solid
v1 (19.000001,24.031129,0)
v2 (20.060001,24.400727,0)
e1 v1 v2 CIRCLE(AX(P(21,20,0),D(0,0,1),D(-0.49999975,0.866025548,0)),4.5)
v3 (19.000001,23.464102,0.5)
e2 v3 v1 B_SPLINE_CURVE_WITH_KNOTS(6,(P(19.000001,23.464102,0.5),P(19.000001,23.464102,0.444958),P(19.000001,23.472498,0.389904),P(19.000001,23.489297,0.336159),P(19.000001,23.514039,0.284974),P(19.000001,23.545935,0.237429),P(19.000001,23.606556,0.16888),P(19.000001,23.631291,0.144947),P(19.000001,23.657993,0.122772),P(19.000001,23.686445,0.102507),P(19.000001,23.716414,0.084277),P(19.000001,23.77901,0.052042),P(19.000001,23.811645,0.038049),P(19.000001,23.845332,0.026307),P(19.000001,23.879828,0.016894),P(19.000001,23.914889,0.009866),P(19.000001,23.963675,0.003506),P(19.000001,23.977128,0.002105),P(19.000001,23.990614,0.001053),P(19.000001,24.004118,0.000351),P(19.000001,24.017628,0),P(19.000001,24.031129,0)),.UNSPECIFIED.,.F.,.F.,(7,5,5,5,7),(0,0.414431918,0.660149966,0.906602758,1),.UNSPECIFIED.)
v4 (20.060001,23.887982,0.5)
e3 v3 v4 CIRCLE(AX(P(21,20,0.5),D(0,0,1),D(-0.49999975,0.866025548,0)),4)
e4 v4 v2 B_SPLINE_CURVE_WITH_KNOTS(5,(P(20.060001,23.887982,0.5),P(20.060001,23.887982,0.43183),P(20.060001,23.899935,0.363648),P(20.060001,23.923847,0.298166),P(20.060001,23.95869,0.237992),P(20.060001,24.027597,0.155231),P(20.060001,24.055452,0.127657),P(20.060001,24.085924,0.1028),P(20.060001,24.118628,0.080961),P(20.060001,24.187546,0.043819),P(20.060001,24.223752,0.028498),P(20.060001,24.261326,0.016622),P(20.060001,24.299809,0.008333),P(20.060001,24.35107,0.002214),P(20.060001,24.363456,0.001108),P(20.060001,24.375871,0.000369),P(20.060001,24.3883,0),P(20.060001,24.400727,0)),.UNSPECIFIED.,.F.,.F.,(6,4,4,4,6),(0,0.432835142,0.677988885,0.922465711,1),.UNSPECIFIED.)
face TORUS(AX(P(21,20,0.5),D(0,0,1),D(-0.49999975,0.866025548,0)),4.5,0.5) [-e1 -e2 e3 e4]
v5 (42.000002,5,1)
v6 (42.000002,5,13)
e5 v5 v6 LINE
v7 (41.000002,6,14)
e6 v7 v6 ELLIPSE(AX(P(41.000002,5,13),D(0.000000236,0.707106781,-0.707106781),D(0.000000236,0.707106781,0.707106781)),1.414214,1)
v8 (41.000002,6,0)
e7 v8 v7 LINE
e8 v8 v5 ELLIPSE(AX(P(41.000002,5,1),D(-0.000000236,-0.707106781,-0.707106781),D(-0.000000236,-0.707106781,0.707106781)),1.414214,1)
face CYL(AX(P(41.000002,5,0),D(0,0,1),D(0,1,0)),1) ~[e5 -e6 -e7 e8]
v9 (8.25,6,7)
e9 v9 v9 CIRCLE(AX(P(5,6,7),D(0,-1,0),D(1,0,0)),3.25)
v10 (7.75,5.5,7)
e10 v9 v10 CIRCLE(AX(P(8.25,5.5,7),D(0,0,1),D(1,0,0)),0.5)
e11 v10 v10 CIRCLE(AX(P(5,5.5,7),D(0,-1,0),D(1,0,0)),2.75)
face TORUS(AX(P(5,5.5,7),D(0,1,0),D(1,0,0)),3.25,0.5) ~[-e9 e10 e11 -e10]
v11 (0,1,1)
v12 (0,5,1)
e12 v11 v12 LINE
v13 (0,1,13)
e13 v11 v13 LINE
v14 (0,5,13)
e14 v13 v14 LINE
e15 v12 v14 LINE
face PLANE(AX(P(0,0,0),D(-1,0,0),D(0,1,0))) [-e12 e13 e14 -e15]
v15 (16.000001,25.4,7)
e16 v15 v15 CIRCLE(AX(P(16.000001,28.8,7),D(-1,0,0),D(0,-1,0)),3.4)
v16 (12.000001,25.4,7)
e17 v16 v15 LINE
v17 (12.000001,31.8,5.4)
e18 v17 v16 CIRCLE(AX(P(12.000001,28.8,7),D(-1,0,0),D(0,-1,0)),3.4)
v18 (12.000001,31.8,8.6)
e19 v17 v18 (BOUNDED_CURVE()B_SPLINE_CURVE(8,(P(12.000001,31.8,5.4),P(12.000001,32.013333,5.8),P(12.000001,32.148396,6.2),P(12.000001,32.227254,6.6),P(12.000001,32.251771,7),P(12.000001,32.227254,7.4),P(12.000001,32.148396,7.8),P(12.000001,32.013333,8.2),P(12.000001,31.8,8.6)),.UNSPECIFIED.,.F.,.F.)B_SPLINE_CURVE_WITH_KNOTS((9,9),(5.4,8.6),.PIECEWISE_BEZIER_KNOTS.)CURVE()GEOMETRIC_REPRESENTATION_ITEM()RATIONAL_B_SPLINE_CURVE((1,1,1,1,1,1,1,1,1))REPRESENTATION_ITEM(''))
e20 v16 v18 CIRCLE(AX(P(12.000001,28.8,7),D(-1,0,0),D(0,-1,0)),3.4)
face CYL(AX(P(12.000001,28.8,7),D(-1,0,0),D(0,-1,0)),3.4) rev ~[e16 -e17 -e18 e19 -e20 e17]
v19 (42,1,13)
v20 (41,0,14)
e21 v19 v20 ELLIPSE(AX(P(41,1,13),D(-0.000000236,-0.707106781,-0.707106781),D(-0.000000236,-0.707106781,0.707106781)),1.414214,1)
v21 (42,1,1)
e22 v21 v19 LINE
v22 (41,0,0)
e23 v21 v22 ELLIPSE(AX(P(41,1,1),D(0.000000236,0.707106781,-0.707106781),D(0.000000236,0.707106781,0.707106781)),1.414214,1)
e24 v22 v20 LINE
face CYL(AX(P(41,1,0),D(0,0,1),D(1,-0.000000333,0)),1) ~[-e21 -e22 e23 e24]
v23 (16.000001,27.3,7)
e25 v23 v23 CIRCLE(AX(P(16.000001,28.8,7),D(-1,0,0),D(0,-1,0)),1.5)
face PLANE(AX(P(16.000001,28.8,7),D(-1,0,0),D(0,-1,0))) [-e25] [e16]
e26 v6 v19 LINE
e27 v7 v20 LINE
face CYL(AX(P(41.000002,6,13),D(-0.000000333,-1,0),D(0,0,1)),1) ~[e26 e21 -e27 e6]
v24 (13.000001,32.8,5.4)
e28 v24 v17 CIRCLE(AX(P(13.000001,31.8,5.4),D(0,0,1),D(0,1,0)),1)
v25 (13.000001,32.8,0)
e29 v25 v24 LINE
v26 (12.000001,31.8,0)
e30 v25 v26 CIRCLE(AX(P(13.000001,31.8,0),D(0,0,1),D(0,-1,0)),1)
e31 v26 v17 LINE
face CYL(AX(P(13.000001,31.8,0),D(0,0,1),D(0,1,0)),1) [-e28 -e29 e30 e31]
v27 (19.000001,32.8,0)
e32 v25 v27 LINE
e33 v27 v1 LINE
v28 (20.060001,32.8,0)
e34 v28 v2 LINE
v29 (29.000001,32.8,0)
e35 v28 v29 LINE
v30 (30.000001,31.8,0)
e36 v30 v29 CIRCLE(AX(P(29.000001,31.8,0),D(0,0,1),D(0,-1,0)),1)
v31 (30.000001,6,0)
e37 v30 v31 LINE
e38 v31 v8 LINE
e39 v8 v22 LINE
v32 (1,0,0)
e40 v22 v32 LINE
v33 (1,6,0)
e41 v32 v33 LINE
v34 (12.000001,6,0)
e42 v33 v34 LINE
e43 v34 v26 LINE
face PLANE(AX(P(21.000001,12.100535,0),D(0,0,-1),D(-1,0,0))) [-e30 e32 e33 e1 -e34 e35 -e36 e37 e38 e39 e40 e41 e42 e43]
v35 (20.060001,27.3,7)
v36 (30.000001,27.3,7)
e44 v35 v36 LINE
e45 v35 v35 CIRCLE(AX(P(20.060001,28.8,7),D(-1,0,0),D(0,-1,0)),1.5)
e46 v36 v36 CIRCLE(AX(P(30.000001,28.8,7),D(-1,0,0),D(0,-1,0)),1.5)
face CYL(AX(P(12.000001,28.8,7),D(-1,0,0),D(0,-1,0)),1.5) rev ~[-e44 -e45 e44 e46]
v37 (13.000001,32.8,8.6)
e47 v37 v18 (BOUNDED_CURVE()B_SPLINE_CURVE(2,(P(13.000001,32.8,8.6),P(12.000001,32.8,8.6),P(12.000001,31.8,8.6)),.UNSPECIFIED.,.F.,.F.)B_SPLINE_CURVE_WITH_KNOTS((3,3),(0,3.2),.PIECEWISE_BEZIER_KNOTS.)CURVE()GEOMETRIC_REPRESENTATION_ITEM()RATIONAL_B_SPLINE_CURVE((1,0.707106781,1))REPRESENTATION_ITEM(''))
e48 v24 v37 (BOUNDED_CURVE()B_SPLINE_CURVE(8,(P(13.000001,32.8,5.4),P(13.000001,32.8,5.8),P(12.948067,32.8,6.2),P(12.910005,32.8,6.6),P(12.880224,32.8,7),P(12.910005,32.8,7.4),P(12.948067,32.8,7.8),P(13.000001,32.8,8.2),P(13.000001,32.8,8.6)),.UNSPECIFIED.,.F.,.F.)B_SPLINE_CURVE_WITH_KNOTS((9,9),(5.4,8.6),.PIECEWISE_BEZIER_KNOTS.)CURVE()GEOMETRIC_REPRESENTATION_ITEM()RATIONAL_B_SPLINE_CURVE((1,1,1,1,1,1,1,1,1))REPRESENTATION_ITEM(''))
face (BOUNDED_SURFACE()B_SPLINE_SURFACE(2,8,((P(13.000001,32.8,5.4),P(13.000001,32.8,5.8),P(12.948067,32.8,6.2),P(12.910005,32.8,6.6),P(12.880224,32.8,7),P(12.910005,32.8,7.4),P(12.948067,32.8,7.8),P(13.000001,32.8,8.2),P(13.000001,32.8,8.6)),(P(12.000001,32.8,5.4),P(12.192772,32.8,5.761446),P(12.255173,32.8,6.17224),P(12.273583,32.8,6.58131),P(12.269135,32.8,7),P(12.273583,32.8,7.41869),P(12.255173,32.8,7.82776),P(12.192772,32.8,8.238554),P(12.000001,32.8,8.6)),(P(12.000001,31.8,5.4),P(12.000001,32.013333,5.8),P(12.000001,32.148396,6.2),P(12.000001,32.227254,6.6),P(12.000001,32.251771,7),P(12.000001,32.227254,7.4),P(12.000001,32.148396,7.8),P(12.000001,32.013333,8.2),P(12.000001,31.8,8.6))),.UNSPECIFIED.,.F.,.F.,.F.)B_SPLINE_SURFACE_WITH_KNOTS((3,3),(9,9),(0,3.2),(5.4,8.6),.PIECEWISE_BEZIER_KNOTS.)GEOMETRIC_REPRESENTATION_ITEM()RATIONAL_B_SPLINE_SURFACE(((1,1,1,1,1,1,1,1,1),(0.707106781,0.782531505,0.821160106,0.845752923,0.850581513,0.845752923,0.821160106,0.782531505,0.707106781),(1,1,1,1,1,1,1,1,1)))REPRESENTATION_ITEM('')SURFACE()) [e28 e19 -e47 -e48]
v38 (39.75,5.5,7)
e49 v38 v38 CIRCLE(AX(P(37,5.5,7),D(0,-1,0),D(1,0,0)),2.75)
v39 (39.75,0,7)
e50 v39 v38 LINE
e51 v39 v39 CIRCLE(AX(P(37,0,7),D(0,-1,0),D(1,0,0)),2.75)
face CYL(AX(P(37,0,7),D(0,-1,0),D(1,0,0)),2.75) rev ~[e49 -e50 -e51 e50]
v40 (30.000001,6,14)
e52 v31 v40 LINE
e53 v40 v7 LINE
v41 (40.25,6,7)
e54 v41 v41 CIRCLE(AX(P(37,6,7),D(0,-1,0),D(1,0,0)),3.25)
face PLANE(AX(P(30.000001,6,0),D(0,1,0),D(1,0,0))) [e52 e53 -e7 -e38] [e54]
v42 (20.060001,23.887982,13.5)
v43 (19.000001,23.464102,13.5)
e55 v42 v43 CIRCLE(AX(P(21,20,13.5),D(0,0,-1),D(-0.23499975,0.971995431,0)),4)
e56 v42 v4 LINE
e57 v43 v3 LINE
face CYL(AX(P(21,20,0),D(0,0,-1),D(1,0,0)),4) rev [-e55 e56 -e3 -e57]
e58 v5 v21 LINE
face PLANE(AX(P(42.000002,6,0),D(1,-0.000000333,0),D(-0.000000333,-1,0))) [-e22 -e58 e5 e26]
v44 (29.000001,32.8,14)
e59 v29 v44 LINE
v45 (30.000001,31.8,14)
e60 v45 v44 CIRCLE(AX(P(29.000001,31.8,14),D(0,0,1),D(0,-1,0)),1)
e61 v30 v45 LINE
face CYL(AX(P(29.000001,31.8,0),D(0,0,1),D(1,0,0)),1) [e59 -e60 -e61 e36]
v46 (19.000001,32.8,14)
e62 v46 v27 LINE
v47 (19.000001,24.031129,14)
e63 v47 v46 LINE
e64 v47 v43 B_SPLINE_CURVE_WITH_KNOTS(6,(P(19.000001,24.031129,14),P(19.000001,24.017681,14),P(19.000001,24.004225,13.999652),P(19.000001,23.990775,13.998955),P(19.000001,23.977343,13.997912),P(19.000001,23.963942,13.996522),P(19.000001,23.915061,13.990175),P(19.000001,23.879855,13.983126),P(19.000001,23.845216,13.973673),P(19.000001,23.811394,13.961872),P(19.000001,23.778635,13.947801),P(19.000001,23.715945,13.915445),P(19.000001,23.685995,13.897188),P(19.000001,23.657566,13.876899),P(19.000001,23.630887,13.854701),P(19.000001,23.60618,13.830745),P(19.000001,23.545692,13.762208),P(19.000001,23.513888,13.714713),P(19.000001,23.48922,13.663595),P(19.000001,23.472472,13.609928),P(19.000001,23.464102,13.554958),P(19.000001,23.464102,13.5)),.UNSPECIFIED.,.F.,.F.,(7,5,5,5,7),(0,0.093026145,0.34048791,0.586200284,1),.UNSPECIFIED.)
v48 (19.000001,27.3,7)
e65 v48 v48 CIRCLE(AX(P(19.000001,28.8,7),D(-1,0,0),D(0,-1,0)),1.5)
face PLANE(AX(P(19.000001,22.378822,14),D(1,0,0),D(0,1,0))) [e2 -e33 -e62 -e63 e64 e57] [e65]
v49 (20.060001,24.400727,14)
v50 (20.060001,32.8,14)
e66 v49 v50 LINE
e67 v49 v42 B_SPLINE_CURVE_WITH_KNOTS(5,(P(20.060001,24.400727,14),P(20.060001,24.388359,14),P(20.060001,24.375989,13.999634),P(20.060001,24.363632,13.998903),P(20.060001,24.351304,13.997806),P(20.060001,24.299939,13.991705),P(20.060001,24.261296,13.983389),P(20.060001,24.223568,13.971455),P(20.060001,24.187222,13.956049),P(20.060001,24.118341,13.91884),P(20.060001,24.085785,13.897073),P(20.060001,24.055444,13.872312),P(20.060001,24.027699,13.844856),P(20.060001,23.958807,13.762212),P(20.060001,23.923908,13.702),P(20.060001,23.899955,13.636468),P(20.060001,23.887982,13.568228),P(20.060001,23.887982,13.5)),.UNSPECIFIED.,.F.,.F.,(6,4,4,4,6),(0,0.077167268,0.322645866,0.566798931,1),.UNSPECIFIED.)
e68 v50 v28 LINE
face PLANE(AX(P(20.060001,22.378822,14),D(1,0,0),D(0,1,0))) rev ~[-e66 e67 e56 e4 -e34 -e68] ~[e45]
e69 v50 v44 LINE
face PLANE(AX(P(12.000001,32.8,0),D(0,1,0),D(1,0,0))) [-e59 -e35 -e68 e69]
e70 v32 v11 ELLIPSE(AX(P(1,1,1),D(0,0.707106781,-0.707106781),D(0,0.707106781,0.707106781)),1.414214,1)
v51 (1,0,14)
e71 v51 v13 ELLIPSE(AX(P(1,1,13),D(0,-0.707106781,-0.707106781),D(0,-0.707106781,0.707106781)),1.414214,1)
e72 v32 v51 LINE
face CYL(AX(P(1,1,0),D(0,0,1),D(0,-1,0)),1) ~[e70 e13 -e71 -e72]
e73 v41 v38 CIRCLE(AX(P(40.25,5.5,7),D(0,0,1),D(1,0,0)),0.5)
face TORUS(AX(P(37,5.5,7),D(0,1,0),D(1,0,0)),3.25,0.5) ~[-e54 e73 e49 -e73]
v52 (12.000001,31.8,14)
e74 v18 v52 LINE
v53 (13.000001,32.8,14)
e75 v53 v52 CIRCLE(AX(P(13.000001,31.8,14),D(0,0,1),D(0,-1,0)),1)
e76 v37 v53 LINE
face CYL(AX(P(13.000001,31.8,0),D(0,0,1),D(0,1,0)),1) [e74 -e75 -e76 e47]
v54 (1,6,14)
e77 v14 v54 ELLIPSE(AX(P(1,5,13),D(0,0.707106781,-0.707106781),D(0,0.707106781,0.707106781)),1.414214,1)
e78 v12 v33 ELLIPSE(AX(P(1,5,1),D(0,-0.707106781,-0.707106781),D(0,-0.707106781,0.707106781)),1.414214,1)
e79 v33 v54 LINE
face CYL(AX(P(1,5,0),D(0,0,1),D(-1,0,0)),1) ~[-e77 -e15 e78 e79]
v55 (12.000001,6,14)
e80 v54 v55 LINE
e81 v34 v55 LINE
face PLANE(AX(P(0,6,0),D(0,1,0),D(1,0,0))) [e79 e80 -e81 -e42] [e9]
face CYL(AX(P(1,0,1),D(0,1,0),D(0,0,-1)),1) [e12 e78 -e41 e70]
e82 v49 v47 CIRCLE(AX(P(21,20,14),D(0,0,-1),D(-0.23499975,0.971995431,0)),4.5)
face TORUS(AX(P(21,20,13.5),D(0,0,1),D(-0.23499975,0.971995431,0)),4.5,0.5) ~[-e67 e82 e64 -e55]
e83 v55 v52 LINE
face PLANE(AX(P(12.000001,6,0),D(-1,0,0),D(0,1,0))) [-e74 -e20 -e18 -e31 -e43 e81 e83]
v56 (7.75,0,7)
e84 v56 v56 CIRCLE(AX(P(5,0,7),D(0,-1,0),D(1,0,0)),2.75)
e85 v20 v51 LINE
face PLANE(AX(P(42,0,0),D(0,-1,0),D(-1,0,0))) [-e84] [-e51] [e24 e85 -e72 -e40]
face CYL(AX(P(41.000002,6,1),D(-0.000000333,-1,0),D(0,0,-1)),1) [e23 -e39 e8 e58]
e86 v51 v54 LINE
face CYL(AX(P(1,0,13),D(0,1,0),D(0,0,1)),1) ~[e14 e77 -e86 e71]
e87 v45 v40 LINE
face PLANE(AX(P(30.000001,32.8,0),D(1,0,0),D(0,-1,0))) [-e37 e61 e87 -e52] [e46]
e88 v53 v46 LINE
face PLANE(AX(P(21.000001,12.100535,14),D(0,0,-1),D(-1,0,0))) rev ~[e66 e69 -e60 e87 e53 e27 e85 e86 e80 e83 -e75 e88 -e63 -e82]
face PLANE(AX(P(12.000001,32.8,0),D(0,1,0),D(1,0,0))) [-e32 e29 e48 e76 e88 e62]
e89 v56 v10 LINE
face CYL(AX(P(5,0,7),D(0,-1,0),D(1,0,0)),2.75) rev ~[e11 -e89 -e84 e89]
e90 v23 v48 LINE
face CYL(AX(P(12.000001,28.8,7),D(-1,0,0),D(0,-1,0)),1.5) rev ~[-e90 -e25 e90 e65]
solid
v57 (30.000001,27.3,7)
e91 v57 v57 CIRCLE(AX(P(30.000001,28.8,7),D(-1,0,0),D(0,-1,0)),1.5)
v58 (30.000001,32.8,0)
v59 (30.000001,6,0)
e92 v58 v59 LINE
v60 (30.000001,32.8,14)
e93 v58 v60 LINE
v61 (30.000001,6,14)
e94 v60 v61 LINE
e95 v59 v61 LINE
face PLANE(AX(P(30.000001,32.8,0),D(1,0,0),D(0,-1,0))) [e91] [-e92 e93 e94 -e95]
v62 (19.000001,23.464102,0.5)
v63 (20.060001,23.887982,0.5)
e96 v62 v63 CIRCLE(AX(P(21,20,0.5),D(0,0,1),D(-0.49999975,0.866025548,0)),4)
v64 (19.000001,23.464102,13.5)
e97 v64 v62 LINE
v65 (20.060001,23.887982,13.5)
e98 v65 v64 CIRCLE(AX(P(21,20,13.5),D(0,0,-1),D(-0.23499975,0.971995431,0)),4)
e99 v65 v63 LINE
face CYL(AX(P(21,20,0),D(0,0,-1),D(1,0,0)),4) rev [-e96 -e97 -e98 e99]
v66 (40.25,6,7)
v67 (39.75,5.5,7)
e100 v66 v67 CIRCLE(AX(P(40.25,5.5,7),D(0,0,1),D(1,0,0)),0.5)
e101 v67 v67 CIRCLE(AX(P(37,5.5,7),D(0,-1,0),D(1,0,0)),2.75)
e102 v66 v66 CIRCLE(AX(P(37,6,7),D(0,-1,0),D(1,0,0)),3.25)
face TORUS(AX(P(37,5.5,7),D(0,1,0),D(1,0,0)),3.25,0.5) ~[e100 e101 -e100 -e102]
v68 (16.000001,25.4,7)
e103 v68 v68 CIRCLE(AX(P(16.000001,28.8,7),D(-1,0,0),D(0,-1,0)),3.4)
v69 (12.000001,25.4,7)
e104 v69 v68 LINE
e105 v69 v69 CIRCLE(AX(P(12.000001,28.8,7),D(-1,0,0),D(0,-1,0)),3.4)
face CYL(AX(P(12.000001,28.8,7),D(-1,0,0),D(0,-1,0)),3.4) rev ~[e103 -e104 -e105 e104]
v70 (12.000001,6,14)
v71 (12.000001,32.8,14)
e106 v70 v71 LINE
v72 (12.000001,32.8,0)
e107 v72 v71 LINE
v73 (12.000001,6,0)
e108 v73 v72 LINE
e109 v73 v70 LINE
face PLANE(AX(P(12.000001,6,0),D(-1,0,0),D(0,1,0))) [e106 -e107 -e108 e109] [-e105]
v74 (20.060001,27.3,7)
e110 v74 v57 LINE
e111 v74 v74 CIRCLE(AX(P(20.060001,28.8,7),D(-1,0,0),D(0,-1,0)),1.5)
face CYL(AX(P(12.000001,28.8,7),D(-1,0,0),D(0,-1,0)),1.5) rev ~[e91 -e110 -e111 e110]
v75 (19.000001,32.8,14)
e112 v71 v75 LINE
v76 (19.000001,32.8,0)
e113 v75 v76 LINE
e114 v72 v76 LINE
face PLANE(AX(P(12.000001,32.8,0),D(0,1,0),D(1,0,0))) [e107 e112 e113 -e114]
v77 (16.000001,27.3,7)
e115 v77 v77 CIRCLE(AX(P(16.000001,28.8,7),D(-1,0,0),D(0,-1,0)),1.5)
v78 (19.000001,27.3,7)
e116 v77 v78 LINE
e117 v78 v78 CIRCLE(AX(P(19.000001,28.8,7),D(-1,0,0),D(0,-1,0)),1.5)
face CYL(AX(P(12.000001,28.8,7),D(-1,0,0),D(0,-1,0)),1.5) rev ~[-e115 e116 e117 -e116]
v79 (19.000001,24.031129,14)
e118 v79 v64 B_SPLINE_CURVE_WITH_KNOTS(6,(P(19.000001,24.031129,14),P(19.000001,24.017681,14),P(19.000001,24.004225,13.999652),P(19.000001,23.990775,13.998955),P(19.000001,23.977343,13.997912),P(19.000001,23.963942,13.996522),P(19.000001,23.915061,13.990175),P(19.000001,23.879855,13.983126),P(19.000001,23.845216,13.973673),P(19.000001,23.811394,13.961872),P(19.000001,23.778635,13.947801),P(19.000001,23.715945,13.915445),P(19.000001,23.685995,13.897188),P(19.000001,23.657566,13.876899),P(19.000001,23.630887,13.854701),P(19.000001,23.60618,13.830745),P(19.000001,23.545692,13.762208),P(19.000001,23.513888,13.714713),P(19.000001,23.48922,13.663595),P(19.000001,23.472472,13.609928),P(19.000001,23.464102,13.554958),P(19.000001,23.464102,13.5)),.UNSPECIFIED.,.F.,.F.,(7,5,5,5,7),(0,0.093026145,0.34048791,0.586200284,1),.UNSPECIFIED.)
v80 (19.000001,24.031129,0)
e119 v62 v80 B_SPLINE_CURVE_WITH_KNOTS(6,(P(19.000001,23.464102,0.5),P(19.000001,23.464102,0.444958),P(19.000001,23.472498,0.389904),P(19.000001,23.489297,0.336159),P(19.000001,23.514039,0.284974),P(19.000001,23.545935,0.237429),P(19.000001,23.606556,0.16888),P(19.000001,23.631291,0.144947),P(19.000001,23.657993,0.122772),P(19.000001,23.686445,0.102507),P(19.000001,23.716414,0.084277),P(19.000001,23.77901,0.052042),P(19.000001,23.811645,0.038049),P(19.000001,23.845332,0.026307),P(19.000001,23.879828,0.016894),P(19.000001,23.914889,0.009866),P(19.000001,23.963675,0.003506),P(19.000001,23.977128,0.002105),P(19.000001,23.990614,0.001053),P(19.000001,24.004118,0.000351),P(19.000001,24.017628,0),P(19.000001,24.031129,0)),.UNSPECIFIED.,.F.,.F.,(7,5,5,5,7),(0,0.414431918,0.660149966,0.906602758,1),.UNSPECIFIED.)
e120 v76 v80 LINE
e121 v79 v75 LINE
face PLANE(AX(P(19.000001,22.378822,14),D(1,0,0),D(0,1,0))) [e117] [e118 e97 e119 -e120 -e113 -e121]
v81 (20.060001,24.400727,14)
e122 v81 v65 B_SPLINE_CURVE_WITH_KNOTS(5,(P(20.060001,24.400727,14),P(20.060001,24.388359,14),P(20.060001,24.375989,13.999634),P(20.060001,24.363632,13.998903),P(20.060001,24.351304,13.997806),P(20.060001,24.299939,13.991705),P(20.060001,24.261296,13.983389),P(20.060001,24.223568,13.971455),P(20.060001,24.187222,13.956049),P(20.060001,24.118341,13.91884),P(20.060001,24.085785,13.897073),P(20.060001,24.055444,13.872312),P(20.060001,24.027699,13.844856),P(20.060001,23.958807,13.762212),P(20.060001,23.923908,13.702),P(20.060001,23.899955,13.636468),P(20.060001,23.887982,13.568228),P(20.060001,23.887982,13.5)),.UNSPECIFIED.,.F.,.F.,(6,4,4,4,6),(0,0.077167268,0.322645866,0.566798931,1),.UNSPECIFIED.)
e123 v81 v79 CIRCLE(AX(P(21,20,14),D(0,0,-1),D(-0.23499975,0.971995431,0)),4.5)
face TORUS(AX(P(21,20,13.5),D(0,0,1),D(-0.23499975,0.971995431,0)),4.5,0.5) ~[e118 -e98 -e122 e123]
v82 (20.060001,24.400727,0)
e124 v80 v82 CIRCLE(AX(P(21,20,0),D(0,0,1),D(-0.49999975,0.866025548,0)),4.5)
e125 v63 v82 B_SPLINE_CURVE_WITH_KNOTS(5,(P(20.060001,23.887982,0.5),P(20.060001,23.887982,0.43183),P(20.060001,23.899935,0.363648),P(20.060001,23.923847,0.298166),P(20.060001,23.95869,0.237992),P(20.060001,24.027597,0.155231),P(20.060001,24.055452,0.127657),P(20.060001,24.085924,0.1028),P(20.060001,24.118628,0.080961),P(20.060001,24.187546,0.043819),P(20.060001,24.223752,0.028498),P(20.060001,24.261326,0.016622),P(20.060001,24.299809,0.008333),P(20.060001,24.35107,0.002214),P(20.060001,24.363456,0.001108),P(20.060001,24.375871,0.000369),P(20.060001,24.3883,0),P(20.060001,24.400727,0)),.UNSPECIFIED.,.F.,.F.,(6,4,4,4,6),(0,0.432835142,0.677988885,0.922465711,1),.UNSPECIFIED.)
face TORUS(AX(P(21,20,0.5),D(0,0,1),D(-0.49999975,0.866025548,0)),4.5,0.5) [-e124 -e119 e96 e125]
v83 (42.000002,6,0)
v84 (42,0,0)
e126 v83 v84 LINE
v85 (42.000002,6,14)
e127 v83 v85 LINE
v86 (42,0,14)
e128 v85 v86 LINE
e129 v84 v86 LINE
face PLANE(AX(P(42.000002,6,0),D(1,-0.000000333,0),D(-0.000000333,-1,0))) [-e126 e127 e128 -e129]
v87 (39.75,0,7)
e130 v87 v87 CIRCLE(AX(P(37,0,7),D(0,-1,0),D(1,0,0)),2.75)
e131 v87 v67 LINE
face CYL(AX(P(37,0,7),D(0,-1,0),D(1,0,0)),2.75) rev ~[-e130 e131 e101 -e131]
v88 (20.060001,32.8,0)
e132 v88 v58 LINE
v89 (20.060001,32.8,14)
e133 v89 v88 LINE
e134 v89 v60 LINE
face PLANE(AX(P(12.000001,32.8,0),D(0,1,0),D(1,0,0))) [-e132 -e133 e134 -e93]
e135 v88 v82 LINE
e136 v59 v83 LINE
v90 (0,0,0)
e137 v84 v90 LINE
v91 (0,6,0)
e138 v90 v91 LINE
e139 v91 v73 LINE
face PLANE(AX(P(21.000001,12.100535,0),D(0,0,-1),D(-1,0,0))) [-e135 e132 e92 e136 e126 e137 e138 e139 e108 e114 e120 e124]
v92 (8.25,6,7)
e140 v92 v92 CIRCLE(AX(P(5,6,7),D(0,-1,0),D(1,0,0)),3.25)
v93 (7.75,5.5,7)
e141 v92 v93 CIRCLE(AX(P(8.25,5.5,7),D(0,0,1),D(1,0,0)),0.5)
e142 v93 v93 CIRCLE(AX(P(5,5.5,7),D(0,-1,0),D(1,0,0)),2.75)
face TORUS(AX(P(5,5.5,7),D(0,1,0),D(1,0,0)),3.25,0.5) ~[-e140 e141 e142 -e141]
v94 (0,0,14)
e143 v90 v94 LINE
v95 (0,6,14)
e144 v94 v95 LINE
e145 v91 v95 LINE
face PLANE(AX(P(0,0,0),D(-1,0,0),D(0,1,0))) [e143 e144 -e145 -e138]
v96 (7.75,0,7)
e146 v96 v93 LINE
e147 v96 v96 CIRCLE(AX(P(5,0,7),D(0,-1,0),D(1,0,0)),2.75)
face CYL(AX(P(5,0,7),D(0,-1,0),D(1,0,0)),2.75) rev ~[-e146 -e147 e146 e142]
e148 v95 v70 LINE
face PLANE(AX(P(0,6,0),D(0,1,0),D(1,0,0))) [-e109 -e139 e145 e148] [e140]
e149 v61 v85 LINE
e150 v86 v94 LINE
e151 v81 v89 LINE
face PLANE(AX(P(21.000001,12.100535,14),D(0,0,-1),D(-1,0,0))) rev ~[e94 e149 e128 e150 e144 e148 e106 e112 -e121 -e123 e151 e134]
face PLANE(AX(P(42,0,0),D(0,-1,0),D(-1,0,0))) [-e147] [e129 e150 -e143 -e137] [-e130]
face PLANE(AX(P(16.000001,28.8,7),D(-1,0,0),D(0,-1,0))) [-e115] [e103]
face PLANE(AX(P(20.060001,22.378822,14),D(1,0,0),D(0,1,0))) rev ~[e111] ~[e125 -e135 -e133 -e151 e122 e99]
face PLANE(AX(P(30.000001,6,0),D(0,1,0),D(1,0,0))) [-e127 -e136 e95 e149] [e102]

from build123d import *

# Parameters (mm, degrees)
SKETCH_R        = 4
PAD_DEPTH       = 14
SKETCH001_R     = 2.75
POCKET_DEPTH    = 32.801
SKETCH002_W     = 1.06
SKETCH002_H     = 12.094456
POCKET001_DEPTH = 14.001
SKETCH003_R     = 1.5
POCKET002_DEPTH = 30.001001
SKETCH004_R     = 3.4
POCKET003_DEPTH = 4
FILLET_R        = 0.5
FILLET001_R     = 0.5
FILLET002_R     = 0.5
FILLET003_R     = 0.5
FILLET004_R     = 1
FILLET005_R     = 1
FILLET006_R     = 1
FILLET007_R     = 1
FILLET008_R     = 0.5


with BuildPart() as fillet002:
    # Sketch → Pad (new body)
    with BuildSketch(Plane.XY):
        Polygon((0, 0), (0, 6), (12.000001, 6), (12.000001, 32.8), (30.000001, 32.8), (30.000001, 6), (42.000002, 6), (42, 0), align=None)
        with Locations((21, 20)):
            Circle(SKETCH_R, mode=Mode.SUBTRACT)
    extrude(amount=PAD_DEPTH)

    # Sketch001 → Pocket (cut, through all)
    with BuildSketch(Plane.XZ):
        with Locations((5, 7)):
            Circle(SKETCH001_R)
        with Locations((37, 7)):
            Circle(SKETCH001_R)
    extrude(amount=-POCKET_DEPTH, mode=Mode.SUBTRACT)

    # Sketch002 → Pocket001 (cut, through all)
    with BuildSketch(Plane.XY.offset(14)):
        with Locations((19.530001, 28.42605)):
            Rectangle(SKETCH002_W, SKETCH002_H)
    extrude(amount=-POCKET001_DEPTH, mode=Mode.SUBTRACT)

    # Sketch003 → Pocket002 (cut, through all)
    with BuildSketch(Plane(origin=(12.000001, 0, 0), x_dir=(0, -1, 0), z_dir=(-1, 0, 0))):
        with Locations((-28.8, 7)):
            Circle(SKETCH003_R)
    extrude(amount=-POCKET002_DEPTH, mode=Mode.SUBTRACT)

    # Sketch004 → Pocket003 (cut)
    with BuildSketch(Plane(origin=(12.000001, 0, 0), x_dir=(0, -1, 0), z_dir=(-1, 0, 0))):
        with Locations((-28.8, 7)):
            Circle(SKETCH004_R)
    extrude(amount=-POCKET003_DEPTH, mode=Mode.SUBTRACT)

    # Fillet
    fillet_edges = [fillet002.edges().sort_by_distance(p)[0] for p in [
        (19, 16.535899, 14),
        (23.473864, 23.143246, 14),
    ]]
    fillet(fillet_edges, radius=FILLET_R)

    # Fillet001
    fillet001_edges = [fillet002.edges().sort_by_distance(p)[0] for p in [
        (23.473864, 23.143246, 0),
    ]]
    fillet(fillet001_edges, radius=FILLET001_R)

    # Fillet002
    fillet002_edges = [fillet002.edges().sort_by_distance(p)[0] for p in [
        (35.055456, 6, 8.944544),
        (38.944544, 6, 5.055456),
    ]]
    fillet(fillet002_edges, radius=FILLET002_R)


with BuildPart() as fillet003:
    # Fillet003 base: copy of Fillet002
    add(fillet002.part)

    # Fillet003
    fillet003_edges = [fillet003.edges().sort_by_distance(p)[0] for p in [
        (3.055456, 6, 8.944544),
        (6.944544, 6, 5.055456),
    ]]
    fillet(fillet003_edges, radius=FILLET003_R)


with BuildPart() as fillet008:
    # Fillet004 base: copy of Fillet002
    add(fillet002.part)

    # Fillet004
    fillet004_edges = [fillet008.edges().sort_by_distance(p)[0] for p in [
        (42.000002, 6, 7),
        (42, 0, 7),
        (42.000001, 3, 0),
        (42.000001, 3, 14),
    ]]
    fillet(fillet004_edges, radius=FILLET004_R)

    # Fillet005
    fillet005_edges = [fillet008.edges().sort_by_distance(p)[0] for p in [
        (0, 0, 7),
        (0, 6, 7),
        (0, 3, 0),
        (0, 3, 14),
    ]]
    fillet(fillet005_edges, radius=FILLET005_R)

    # Fillet006
    fillet006_edges = [fillet008.edges().sort_by_distance(p)[0] for p in [
        (30.000001, 32.8, 7),
    ]]
    fillet(fillet006_edges, radius=FILLET006_R)

    # Fillet007
    fillet007_edges = [fillet008.edges().sort_by_distance(p)[0] for p in [
        (12.000001, 32.8, 7),
    ]]
    fillet(fillet007_edges, radius=FILLET007_R)

    # Fillet008
    fillet008_edges = [fillet008.edges().sort_by_distance(p)[0] for p in [
        (3.055456, 6, 8.944544),
        (6.944544, 6, 5.055456),
    ]]
    fillet(fillet008_edges, radius=FILLET008_R)


solid = Compound([fillet003.part, fillet008.part])
